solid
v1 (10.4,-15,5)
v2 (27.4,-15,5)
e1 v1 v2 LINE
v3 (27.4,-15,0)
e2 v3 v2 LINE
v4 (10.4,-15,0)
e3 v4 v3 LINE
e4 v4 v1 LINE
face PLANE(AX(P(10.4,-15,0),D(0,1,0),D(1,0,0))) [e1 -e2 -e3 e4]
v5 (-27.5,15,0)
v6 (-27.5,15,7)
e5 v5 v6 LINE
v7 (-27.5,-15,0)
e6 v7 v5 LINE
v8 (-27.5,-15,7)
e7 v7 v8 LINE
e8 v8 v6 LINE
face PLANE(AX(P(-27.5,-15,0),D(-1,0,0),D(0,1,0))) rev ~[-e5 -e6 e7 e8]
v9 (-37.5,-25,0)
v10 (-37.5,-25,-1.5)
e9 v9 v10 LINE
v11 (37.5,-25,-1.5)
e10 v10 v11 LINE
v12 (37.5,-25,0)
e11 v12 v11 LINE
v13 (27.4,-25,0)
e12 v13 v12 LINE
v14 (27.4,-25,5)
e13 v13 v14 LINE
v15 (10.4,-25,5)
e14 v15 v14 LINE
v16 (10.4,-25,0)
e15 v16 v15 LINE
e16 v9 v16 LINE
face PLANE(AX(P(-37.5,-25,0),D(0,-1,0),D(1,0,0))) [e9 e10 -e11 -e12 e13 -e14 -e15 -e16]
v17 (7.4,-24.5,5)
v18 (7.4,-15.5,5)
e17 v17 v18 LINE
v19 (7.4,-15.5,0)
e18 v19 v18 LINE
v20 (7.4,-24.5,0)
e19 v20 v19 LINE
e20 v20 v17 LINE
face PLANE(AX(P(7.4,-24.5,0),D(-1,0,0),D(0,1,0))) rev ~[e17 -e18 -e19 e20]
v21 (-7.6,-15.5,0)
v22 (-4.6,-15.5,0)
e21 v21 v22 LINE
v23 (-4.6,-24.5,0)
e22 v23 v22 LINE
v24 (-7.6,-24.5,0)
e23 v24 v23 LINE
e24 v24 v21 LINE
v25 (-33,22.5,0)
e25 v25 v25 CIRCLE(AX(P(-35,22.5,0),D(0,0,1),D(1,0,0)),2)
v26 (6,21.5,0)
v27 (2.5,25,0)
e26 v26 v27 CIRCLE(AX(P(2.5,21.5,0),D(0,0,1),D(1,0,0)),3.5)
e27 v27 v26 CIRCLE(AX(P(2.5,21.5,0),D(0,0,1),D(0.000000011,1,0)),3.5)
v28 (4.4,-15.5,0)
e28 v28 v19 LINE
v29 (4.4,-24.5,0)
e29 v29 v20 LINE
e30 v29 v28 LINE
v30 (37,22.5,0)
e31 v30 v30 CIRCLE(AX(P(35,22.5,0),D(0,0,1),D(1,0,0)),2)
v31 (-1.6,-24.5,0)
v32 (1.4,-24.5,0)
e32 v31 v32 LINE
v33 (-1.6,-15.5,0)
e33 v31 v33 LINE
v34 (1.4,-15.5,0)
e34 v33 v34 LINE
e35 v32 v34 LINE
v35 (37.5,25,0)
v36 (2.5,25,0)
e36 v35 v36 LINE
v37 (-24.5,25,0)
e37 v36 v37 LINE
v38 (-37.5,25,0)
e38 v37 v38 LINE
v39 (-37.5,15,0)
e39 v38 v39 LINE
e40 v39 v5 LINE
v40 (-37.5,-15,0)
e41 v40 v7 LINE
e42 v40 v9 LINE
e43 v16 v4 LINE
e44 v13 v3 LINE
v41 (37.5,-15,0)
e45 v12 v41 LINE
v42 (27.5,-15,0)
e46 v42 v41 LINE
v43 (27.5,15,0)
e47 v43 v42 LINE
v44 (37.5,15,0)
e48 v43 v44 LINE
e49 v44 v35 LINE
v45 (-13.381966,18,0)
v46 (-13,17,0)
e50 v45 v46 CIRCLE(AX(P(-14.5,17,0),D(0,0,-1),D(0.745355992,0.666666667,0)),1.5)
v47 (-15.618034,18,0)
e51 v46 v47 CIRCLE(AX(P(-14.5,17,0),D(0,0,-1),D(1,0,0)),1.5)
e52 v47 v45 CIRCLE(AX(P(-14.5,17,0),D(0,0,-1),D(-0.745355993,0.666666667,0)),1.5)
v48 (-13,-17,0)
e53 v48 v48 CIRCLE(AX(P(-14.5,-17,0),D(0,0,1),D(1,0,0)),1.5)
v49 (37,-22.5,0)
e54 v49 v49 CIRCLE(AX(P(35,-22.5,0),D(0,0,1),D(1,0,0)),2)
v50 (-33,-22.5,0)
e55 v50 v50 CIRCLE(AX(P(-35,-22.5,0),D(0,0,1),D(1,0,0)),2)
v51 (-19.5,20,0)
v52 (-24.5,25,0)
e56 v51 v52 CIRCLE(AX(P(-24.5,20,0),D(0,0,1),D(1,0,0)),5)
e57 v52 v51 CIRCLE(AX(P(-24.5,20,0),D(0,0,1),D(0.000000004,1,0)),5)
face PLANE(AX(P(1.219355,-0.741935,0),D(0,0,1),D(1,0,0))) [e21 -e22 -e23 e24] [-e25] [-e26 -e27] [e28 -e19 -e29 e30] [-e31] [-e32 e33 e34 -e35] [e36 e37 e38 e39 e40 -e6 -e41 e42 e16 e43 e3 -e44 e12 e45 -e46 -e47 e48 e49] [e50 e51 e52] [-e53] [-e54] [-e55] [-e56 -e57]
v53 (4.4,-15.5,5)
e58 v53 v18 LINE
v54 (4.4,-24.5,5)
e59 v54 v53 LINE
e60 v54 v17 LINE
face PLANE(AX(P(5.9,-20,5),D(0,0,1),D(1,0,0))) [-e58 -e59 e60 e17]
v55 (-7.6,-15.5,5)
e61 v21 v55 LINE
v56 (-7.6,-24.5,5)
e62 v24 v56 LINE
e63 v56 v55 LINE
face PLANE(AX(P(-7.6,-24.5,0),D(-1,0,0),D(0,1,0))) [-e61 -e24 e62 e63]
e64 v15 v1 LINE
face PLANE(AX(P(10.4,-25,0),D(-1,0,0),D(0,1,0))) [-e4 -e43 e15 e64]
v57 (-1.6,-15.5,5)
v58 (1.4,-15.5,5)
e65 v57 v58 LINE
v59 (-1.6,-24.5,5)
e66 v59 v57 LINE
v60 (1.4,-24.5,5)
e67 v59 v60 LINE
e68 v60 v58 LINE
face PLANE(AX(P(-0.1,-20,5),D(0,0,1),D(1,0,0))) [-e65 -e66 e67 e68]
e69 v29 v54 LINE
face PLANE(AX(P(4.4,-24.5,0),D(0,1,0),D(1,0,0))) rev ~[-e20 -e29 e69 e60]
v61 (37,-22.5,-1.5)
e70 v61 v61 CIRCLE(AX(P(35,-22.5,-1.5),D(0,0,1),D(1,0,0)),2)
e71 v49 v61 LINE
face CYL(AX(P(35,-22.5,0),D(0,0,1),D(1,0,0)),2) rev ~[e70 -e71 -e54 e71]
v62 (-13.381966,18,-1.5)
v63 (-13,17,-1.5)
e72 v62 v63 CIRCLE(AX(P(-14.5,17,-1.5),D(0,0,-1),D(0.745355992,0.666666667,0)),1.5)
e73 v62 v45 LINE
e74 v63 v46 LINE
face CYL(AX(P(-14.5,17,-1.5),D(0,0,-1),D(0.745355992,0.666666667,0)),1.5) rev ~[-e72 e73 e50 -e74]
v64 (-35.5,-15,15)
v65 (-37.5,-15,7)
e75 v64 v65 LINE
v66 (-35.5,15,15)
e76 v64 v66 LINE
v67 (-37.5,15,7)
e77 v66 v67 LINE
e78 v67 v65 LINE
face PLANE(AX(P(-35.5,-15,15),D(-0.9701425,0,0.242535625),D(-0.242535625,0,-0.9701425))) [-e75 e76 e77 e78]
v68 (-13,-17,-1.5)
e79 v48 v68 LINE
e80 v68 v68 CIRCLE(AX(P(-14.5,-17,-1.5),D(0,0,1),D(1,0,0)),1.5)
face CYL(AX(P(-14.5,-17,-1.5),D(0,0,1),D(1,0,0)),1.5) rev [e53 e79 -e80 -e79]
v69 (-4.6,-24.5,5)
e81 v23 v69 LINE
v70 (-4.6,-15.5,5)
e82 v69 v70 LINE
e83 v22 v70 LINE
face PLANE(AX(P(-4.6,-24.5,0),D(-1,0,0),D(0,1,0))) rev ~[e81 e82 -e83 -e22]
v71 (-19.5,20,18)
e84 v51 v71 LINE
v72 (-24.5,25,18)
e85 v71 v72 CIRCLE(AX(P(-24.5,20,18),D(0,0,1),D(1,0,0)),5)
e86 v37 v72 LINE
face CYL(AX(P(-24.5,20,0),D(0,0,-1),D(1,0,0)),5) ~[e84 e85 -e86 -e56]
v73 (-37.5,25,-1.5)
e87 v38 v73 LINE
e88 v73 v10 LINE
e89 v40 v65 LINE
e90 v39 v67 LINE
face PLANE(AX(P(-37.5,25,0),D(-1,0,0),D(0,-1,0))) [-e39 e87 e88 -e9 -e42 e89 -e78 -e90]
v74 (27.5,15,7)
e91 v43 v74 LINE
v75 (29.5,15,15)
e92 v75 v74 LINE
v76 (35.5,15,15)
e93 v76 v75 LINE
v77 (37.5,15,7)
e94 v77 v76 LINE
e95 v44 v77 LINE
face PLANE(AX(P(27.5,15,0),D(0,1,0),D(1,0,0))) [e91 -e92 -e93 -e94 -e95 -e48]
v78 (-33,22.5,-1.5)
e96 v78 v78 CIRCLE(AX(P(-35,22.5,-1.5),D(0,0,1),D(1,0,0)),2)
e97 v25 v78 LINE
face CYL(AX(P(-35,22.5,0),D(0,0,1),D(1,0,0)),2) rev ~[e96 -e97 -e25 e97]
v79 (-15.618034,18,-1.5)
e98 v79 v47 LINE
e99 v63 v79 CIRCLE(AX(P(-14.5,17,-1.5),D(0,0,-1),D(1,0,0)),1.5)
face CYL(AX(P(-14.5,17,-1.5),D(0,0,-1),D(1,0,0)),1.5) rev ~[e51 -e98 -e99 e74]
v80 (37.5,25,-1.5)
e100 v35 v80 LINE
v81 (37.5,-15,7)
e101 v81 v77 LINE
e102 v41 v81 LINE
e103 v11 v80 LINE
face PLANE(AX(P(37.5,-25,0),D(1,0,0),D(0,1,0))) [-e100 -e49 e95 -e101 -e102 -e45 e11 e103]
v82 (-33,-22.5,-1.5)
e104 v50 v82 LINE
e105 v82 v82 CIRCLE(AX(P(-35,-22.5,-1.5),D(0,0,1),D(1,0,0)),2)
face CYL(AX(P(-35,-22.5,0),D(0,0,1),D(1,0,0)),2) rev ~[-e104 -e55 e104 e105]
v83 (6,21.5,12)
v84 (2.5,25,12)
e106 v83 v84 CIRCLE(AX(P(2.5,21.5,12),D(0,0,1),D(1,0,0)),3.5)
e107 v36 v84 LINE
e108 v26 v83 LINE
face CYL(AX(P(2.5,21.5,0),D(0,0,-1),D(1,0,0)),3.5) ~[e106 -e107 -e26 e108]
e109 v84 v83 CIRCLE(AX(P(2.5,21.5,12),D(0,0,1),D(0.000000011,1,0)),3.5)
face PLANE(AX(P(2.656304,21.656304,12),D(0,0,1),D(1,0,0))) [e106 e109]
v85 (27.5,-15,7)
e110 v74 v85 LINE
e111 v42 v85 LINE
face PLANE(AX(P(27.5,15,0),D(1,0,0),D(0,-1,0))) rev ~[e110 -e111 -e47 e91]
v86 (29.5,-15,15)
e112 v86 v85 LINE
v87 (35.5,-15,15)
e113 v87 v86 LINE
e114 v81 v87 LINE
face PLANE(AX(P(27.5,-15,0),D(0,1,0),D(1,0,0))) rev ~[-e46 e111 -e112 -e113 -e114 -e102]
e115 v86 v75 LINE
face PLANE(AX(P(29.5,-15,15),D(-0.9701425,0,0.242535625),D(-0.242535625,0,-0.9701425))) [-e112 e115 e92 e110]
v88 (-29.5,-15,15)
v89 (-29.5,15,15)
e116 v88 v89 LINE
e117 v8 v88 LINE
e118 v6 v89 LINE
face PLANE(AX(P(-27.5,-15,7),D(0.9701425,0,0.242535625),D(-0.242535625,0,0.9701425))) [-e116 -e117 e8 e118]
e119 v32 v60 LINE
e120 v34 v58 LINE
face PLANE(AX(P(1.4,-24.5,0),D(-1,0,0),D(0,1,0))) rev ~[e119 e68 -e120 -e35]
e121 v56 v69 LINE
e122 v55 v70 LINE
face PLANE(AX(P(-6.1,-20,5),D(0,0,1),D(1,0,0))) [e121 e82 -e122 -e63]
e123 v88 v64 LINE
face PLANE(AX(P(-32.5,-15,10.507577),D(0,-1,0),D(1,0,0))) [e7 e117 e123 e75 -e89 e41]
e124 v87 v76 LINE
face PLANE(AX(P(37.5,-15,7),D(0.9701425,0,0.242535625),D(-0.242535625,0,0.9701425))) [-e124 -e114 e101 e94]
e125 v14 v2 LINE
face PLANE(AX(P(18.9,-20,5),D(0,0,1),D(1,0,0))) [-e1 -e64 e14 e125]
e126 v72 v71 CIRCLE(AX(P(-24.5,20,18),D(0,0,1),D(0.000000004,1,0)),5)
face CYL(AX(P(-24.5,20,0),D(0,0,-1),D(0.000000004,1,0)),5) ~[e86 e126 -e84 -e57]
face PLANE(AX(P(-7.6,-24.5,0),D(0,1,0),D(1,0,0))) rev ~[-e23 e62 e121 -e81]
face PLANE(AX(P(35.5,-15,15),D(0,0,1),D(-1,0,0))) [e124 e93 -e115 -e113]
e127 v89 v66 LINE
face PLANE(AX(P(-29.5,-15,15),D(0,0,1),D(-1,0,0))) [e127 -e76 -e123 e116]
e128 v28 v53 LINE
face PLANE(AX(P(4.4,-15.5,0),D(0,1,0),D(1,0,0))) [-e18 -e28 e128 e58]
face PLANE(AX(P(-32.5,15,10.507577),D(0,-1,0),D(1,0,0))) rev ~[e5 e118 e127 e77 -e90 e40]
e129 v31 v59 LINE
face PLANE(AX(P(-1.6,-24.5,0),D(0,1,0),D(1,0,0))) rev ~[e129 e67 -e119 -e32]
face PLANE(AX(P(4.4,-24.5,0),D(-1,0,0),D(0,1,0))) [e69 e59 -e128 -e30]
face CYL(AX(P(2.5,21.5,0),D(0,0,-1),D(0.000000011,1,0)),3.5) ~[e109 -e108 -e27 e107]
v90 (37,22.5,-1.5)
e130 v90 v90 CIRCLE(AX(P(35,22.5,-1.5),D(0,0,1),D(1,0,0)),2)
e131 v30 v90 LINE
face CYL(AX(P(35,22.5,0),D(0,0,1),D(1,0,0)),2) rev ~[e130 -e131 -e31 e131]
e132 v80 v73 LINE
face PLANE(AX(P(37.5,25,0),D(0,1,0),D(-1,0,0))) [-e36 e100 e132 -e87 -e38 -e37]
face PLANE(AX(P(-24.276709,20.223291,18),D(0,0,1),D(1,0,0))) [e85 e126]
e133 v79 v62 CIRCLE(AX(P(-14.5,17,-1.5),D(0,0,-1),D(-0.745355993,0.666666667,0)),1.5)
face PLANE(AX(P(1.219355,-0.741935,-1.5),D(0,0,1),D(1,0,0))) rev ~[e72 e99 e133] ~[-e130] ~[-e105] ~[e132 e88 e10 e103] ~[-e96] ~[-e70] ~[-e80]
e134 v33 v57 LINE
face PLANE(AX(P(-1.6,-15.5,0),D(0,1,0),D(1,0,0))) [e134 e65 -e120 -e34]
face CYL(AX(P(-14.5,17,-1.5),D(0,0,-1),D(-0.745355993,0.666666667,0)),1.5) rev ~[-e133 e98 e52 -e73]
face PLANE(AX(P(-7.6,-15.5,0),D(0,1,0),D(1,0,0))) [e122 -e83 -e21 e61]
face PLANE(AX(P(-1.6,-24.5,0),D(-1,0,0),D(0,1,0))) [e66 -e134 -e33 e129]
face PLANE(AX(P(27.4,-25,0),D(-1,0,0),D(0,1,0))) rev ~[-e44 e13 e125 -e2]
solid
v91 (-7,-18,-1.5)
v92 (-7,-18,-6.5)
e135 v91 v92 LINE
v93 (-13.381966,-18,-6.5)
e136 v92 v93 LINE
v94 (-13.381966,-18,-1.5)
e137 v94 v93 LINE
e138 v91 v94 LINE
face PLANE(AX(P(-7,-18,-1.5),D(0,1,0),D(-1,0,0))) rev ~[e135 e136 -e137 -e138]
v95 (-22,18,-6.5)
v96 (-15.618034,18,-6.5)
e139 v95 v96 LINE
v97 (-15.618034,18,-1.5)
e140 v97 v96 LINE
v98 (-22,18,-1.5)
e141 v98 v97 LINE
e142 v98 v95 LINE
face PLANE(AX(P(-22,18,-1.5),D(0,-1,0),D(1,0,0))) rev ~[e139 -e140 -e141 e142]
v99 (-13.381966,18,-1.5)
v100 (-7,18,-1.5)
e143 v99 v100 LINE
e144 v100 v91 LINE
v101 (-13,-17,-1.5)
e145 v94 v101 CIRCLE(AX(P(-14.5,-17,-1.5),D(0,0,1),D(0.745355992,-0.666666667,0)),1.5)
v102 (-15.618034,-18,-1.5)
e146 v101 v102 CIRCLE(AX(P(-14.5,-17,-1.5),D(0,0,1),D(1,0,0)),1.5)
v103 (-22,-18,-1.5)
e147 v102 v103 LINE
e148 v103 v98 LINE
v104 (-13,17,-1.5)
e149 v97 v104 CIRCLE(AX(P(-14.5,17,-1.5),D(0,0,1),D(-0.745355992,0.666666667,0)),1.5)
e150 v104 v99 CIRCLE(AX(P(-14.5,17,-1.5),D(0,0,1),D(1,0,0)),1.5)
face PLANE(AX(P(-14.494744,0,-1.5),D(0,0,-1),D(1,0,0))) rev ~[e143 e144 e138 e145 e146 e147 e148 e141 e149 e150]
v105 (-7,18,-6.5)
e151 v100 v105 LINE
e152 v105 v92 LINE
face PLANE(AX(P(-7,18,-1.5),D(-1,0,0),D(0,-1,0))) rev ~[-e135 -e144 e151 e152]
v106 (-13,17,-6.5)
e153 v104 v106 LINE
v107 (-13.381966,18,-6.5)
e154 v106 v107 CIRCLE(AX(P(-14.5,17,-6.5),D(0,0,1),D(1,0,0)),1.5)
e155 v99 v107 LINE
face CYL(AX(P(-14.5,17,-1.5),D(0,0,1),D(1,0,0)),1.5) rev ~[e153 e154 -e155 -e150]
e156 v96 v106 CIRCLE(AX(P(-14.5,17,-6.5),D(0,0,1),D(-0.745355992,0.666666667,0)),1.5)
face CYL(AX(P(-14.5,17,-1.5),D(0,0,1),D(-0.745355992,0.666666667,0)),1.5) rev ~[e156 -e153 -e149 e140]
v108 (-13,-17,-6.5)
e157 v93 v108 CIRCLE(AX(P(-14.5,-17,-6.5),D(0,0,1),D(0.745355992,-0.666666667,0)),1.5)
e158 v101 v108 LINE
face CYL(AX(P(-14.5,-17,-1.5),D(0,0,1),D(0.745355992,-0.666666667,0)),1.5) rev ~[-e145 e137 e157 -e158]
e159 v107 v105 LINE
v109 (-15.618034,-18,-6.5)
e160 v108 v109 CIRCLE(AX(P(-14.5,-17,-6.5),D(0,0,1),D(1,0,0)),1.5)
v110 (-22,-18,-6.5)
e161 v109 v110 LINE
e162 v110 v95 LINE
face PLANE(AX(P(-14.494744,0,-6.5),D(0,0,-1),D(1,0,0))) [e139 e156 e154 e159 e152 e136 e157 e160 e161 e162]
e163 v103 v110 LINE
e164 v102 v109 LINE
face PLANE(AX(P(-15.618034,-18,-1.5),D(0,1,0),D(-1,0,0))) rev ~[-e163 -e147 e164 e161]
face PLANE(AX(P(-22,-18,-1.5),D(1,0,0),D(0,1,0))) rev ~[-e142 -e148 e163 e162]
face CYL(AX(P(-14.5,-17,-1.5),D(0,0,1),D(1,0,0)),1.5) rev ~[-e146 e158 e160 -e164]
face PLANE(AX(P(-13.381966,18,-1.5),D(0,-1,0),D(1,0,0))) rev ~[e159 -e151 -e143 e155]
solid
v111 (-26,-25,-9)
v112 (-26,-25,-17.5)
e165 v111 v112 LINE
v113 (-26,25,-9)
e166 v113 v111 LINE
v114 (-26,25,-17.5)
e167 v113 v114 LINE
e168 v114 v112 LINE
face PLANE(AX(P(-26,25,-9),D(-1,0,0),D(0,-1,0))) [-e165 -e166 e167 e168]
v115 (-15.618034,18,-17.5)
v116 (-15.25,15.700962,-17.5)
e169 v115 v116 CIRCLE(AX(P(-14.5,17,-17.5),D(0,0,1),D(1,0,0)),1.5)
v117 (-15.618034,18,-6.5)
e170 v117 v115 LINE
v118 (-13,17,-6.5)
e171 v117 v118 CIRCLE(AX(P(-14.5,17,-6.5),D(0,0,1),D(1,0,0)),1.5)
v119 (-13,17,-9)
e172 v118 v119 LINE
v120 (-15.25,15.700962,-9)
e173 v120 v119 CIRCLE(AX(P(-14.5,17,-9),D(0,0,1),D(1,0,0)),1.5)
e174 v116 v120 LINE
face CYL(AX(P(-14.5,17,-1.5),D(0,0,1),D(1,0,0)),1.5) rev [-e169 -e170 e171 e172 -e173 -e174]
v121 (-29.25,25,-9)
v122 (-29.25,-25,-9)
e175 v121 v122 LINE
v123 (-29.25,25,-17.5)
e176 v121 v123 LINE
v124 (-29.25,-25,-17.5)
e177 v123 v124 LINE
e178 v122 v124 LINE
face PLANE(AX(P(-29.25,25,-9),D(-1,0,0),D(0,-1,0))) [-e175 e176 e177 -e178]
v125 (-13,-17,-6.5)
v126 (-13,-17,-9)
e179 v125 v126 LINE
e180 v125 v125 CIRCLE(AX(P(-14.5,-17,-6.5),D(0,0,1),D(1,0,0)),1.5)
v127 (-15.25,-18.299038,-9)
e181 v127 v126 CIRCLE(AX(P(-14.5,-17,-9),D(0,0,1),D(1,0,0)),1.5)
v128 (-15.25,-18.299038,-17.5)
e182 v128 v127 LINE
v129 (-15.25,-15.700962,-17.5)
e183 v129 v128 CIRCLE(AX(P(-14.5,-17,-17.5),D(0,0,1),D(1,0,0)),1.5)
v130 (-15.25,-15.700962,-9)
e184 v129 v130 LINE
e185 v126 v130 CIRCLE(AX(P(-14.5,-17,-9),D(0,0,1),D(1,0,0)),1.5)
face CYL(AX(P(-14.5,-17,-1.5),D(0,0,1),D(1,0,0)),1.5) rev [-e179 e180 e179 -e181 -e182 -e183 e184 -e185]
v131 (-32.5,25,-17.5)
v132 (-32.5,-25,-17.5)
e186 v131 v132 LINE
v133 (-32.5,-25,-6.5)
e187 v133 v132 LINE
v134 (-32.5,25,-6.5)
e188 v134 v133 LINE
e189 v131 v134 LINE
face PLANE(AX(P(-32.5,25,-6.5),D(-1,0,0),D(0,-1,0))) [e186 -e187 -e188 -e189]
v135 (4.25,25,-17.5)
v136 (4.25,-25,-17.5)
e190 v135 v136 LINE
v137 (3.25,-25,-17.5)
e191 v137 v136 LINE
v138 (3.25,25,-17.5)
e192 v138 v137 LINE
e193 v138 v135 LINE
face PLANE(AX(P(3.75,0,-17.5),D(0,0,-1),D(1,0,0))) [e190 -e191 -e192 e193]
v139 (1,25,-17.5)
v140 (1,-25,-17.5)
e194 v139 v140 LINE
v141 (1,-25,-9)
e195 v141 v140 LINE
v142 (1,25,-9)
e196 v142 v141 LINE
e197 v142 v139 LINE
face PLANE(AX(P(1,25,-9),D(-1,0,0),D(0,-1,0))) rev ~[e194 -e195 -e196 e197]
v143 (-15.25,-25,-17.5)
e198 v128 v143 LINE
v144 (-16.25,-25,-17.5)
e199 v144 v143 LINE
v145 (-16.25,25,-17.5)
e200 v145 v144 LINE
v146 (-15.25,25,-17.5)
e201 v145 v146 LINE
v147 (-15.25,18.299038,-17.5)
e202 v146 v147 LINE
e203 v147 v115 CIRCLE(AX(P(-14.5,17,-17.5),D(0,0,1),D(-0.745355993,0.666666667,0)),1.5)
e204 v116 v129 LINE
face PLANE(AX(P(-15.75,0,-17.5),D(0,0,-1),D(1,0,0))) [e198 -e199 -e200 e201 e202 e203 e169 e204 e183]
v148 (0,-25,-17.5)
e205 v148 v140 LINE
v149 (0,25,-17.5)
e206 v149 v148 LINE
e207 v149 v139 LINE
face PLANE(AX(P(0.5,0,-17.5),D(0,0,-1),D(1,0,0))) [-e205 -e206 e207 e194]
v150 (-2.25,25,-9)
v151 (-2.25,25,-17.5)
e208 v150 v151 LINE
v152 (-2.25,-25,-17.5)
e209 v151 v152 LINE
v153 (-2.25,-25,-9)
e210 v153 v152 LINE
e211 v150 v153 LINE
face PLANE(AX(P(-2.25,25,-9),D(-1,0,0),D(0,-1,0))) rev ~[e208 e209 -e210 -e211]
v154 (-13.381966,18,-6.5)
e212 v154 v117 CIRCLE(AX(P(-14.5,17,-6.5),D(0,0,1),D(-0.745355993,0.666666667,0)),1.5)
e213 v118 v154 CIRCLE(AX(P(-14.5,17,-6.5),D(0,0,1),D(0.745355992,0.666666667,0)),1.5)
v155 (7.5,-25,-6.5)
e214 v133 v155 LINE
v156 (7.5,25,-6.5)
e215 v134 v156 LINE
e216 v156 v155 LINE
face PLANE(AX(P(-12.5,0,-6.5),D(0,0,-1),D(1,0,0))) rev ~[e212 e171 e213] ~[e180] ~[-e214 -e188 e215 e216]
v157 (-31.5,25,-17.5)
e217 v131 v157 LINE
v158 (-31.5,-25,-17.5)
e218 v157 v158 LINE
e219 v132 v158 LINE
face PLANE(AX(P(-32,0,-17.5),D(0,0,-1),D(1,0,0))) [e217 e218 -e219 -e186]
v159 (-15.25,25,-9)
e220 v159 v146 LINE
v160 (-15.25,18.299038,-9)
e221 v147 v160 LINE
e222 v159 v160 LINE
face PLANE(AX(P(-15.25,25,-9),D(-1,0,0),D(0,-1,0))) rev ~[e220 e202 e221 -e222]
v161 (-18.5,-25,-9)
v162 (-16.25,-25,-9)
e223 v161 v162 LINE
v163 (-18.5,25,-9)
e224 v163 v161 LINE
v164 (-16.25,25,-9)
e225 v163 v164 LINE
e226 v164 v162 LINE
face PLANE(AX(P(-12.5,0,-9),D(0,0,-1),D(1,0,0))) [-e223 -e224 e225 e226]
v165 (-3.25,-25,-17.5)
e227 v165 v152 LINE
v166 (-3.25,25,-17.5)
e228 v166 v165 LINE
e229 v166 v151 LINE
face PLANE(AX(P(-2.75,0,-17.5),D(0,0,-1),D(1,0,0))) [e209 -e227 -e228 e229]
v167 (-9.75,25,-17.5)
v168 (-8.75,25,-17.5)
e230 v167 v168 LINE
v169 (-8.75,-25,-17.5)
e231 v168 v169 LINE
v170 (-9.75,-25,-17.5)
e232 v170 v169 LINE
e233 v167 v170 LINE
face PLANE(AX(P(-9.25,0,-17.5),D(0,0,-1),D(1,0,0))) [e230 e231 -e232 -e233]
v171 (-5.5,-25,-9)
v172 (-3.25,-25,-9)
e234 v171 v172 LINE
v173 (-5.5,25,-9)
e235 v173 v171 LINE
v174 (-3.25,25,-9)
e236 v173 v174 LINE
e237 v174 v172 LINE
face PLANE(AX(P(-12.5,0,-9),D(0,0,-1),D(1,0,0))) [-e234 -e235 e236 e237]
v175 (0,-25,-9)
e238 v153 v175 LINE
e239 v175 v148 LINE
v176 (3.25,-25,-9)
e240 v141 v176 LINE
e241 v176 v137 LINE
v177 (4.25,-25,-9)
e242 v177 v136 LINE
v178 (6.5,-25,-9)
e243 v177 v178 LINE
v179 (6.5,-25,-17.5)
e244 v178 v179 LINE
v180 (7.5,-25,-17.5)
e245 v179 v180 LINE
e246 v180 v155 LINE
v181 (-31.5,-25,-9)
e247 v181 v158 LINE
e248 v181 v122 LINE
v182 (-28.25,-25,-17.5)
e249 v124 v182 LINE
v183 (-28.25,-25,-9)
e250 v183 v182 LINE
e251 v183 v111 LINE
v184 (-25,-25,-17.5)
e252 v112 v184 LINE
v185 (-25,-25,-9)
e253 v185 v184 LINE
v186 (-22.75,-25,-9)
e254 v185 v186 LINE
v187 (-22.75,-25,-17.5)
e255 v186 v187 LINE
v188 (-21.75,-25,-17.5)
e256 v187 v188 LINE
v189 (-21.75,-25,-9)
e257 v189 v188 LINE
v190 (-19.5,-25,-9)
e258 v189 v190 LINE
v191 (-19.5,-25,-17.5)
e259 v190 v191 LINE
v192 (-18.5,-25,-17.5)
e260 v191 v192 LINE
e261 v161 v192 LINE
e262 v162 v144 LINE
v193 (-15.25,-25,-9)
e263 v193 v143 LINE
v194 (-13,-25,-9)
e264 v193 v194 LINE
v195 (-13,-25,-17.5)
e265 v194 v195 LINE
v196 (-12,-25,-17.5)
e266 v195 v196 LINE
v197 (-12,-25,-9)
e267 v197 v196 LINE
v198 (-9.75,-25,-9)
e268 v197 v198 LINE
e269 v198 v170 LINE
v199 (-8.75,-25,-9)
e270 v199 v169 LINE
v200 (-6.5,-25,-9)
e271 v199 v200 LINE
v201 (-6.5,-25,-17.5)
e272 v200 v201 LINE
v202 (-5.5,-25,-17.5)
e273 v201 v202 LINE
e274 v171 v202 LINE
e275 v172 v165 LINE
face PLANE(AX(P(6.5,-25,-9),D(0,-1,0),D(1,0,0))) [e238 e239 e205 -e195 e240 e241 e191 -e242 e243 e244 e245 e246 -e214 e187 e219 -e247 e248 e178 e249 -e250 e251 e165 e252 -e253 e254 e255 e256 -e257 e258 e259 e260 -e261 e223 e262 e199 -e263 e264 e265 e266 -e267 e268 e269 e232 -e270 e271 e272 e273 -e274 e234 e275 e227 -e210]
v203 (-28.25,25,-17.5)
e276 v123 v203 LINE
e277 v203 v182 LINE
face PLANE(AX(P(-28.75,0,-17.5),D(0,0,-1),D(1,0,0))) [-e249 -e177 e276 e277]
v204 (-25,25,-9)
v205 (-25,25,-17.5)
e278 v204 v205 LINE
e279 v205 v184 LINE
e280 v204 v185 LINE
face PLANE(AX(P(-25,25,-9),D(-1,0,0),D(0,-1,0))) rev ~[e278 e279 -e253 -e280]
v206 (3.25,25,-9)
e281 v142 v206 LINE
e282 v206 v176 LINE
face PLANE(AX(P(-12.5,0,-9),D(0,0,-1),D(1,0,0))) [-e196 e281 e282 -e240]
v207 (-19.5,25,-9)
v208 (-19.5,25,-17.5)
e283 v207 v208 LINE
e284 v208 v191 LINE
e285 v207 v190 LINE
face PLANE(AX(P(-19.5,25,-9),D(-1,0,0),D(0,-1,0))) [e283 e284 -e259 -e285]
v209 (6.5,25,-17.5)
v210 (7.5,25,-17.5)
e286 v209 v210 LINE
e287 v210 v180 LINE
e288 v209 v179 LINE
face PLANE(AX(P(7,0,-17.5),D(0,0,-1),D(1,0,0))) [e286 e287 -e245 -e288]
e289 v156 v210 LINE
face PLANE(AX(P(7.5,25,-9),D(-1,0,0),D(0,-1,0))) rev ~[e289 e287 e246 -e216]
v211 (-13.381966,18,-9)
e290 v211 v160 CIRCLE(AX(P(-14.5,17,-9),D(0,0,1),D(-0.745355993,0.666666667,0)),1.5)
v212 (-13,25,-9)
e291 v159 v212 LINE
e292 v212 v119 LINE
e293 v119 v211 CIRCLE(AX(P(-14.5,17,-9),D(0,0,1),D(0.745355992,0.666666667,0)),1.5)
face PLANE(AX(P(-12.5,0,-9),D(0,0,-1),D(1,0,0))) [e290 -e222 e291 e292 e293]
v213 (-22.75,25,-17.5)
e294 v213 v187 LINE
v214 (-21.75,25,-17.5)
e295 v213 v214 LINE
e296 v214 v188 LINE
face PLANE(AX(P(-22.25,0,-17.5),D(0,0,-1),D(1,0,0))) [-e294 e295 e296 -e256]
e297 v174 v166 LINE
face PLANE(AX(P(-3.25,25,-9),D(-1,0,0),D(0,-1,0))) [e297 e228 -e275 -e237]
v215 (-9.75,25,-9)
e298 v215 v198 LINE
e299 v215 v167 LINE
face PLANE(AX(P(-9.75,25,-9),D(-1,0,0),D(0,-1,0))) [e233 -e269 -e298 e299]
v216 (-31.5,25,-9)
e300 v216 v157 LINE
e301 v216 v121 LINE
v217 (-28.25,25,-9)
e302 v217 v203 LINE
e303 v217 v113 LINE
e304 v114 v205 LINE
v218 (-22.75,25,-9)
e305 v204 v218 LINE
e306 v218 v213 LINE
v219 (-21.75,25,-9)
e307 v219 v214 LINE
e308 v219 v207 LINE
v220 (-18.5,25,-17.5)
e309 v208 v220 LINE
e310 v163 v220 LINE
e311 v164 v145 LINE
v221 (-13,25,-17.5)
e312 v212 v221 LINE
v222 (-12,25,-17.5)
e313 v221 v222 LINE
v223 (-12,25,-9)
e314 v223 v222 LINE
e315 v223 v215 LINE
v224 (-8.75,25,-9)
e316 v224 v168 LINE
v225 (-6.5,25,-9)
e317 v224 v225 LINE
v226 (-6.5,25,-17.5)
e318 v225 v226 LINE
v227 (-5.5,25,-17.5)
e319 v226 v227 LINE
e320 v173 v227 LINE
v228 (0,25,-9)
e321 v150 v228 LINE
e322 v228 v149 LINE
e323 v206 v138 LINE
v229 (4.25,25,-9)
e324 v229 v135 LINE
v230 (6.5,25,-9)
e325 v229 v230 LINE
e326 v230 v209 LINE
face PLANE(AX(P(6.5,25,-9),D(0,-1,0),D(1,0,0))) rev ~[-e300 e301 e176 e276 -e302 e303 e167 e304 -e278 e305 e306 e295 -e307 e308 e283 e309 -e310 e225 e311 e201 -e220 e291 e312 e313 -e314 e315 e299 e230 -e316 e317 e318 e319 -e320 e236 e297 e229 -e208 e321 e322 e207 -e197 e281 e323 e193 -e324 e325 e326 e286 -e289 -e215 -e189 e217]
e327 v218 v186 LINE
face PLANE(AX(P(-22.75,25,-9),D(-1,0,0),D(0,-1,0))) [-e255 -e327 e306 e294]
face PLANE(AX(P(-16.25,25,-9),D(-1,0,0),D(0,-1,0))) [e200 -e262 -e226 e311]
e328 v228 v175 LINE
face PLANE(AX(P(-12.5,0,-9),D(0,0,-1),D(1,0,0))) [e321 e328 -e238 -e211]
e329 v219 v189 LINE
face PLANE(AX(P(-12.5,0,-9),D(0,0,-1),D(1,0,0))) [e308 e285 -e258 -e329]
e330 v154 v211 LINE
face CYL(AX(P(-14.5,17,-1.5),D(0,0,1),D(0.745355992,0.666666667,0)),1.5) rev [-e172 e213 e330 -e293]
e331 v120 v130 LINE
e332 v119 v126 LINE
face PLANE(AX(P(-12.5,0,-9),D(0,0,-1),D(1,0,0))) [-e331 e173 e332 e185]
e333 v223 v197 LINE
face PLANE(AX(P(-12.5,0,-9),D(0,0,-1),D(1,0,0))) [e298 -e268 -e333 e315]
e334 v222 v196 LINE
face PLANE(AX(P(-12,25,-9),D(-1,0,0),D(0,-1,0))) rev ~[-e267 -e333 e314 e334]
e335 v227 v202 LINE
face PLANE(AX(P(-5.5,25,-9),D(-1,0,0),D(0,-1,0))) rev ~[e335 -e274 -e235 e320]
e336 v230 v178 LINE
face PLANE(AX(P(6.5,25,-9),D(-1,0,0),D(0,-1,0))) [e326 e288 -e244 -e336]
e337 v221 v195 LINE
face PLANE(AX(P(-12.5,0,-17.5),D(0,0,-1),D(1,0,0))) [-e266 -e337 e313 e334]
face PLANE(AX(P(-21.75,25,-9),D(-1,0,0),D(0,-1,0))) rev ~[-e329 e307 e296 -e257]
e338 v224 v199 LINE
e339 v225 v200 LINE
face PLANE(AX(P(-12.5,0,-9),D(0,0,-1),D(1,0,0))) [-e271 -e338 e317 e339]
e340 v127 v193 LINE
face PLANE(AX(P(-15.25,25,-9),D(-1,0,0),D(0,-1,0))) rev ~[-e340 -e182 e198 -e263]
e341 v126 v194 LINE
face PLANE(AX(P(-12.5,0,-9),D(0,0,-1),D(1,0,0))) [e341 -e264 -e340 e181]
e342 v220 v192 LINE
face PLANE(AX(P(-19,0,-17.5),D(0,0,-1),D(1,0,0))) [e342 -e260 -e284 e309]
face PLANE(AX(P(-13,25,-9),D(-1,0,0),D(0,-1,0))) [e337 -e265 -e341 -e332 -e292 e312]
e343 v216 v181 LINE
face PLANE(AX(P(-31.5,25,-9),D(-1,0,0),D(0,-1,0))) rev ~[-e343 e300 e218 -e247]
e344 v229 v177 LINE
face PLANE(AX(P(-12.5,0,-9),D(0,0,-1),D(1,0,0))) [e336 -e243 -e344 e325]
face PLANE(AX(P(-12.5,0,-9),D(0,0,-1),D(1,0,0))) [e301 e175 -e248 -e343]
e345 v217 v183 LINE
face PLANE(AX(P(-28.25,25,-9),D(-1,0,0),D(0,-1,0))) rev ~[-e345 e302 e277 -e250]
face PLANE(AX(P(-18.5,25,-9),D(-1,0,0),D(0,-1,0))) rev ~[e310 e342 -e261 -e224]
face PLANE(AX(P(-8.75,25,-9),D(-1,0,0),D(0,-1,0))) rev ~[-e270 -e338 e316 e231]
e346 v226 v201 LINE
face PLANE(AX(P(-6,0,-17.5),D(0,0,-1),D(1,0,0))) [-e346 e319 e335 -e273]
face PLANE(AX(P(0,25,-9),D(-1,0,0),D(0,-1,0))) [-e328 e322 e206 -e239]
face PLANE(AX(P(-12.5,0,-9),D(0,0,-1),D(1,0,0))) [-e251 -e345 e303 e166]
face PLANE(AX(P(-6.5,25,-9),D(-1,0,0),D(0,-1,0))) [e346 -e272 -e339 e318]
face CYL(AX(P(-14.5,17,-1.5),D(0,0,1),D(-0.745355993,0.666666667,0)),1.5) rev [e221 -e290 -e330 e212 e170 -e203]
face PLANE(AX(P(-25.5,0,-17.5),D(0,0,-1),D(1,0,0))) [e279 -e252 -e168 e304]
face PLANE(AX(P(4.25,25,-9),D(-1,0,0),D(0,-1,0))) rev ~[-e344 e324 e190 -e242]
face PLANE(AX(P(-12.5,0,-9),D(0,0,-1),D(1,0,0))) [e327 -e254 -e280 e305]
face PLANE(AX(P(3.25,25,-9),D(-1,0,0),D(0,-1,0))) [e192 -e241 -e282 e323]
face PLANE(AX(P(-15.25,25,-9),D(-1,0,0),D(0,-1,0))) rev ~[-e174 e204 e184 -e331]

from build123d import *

# Parameters (mm, degrees)
F0_R      = 2
F0_W      = 3
F0_H      = 9
F0_W_2    = 10
F0_H_2    = 15
F0_W_3    = 17
F0_H_3    = 10
F1_DEPTH  = 1.5
F2_DEPTH  = 7
F3_DEPTH  = 5
F5_DEPTH  = 30
F6_DEPTH  = 18
F7_DEPTH  = 12
F9_DEPTH  = 5
F10_W     = 40
F10_H     = 50
F11_DEPTH = 2.5
F12_W     = 1
F12_H     = 50
F13_DEPTH = 8.5
F14_DEPTH = 50


with BuildPart() as f1:
    # F0 (on Top) → F1 (new body)
    with BuildSketch(Plane.XY):
        Polygon((27.4, -25), (37.5, -25), (37.5, -15), (27.5, -15), (27.5, 0), (27.5, 15), (37.5, 15), (37.5, 25), (2.500000039, 25), (-24.4999999811, 25), (-37.5, 25), (-37.5, 15), (-27.5, 15), (-27.5, 0), (-27.5, -15), (-37.5, -15), (-37.5, -25), (10.4, -25), (10.4, -15), (27.4, -15), align=None)
        with Locations((-35, -22.5)):
            Circle(F0_R, mode=Mode.SUBTRACT)
        with Locations((-6.1, -20)):
            Rectangle(F0_W, F0_H, mode=Mode.SUBTRACT)
        with Locations((-0.1, -20)):
            Rectangle(F0_W, F0_H, mode=Mode.SUBTRACT)
        with Locations((5.9, -20)):
            Rectangle(F0_W, F0_H, mode=Mode.SUBTRACT)
        with Locations((35, -22.5)):
            Circle(F0_R, mode=Mode.SUBTRACT)
        with Locations((-35, 22.5)):
            Circle(F0_R, mode=Mode.SUBTRACT)
        with BuildLine():
            ThreePointArc((-19.5, 20), (-28.0355339126, 16.4644661007), (-24.4999999811, 25))
            ThreePointArc((-24.4999999811, 25), (-20.9644660874, 23.5355338993), (-19.5, 20))
        make_face(mode=Mode.SUBTRACT)
        with BuildLine():
            ThreePointArc((6, 21.5), (0.025126252, 19.0251262796), (2.500000039, 25))
            ThreePointArc((2.500000039, 25), (4.974873748, 23.9748737204), (6, 21.5))
        make_face(mode=Mode.SUBTRACT)
        with Locations((35, 22.5)):
            Circle(F0_R, mode=Mode.SUBTRACT)
        with Locations((32.5, -7.5)):
            Rectangle(F0_W_2, F0_H_2)
        with Locations((32.5, 7.5)):
            Rectangle(F0_W_2, F0_H_2)
        with Locations((-32.5, -7.5)):
            Rectangle(F0_W_2, F0_H_2)
        with Locations((-32.5, 7.5)):
            Rectangle(F0_W_2, F0_H_2)
        with BuildLine():
            ThreePointArc((-19.5, 20), (-20.9644660874, 23.5355338993), (-24.4999999811, 25))
            ThreePointArc((-24.4999999811, 25), (-28.0355339126, 16.4644661007), (-19.5, 20))
        make_face()
        with BuildLine():
            ThreePointArc((6, 21.5), (4.974873748, 23.9748737204), (2.500000039, 25))
            ThreePointArc((2.500000039, 25), (0.025126252, 19.0251262796), (6, 21.5))
        make_face()
        with Locations((5.9, -20)):
            Rectangle(F0_W, F0_H)
        with Locations((-0.1, -20)):
            Rectangle(F0_W, F0_H)
        with Locations((-6.1, -20)):
            Rectangle(F0_W, F0_H)
        with Locations((18.9, -20)):
            Rectangle(F0_W_3, F0_H_3)
    extrude(amount=-F1_DEPTH)

    # F0 (on Top) → F2 (join)
    with BuildSketch(Plane.XY):
        with Locations((-32.5, 7.5)):
            Rectangle(F0_W_2, F0_H_2)
        with Locations((-32.5, -7.5)):
            Rectangle(F0_W_2, F0_H_2)
        with Locations((32.5, -7.5)):
            Rectangle(F0_W_2, F0_H_2)
        with Locations((32.5, 7.5)):
            Rectangle(F0_W_2, F0_H_2)
    extrude(amount=F2_DEPTH)

    # F0 (on Top) → F3 (join)
    with BuildSketch(Plane.XY):
        with Locations((-6.1, -20)):
            Rectangle(F0_W, F0_H)
        with Locations((-0.1, -20)):
            Rectangle(F0_W, F0_H)
        with Locations((5.9, -20)):
            Rectangle(F0_W, F0_H)
        with Locations((18.9, -20)):
            Rectangle(F0_W_3, F0_H_3)
    extrude(amount=F3_DEPTH)

    # F4 (on face) → F5 (join, through all)
    with BuildSketch(Plane.XZ.offset(15)):
        Polygon((-29.5, 15), (-35.5, 15), (-37.5, 7), (-27.5, 7), align=None)
        Polygon((37.5, 7), (35.5, 15), (29.5, 15), (27.5, 7), align=None)
    extrude(amount=-F5_DEPTH)

    # F0 (on Top) → F6 (join)
    with BuildSketch(Plane.XY):
        with BuildLine():
            ThreePointArc((-19.5, 20), (-20.9644660874, 23.5355338993), (-24.4999999811, 25))
            ThreePointArc((-24.4999999811, 25), (-28.0355339126, 16.4644661007), (-19.5, 20))
        make_face()
    extrude(amount=F6_DEPTH)

    # F0 (on Top) → F7 (join)
    with BuildSketch(Plane.XY):
        with BuildLine():
            ThreePointArc((6, 21.5), (4.974873748, 23.9748737204), (2.500000039, 25))
            ThreePointArc((2.500000039, 25), (0.025126252, 19.0251262796), (6, 21.5))
        make_face()
    extrude(amount=F7_DEPTH)


with BuildPart() as f9:
    # F8 (on face) → F9 (new body)
    with BuildSketch(Plane(origin=(0, 0, -1.5), x_dir=(1, 0, 0), z_dir=(0, 0, -1))):
        with BuildLine():
            Line((-7, -18), (-7, 18))
            Line((-7, 18), (-13.3819660113, 18))
            ThreePointArc((-13.3819660113, 18), (-13.0987414616, 17.5352331347), (-13, 17))
            ThreePointArc((-13, 17), (-15.0352331347, 15.5987414616), (-15.6180339887, 18))
            Line((-15.6180339887, 18), (-22, 18))
            Line((-22, 18), (-22, -18))
            Line((-22, -18), (-15.6180339887, -18))
            ThreePointArc((-15.6180339887, -18), (-15.0352331347, -15.5987414616), (-13, -17))
            ThreePointArc((-13, -17), (-13.0987414616, -17.5352331347), (-13.3819660113, -18))
            Line((-13.3819660113, -18), (-7, -18))
        make_face()
    extrude(amount=F9_DEPTH)


with BuildPart() as f11:
    # F10 (on face) → F11 (new body)
    with BuildSketch(Plane(origin=(0, 0, -6.5), x_dir=(1, 0, 0), z_dir=(0, 0, -1))):
        with Locations((-12.5, 0)):
            Rectangle(F10_W, F10_H)
        with BuildLine():
            Line((-7, -18), (-13.3819660113, -18))
            ThreePointArc((-13.3819660113, -18), (-13.0987414616, -17.5352331347), (-13, -17))
            ThreePointArc((-13, -17), (-15.0352331347, -15.5987414616), (-15.6180339887, -18))
            Line((-15.6180339887, -18), (-22, -18))
            Line((-22, -18), (-22, 18))
            Line((-22, 18), (-15.6180339887, 18))
            ThreePointArc((-15.6180339887, 18), (-14.5, 15.5), (-13.3819660113, 18))
            Line((-13.3819660113, 18), (-7, 18))
            Line((-7, 18), (-7, -18))
        make_face(mode=Mode.SUBTRACT)
        with BuildLine():
            ThreePointArc((-13, -17), (-13.0987414616, -17.5352331347), (-13.3819660113, -18))
            Line((-13.3819660113, -18), (-7, -18))
            Line((-7, -18), (-7, 18))
            Line((-7, 18), (-13.3819660113, 18))
            ThreePointArc((-13.3819660113, 18), (-14.5, 15.5), (-15.6180339887, 18))
            Line((-15.6180339887, 18), (-22, 18))
            Line((-22, 18), (-22, -18))
            Line((-22, -18), (-15.6180339887, -18))
            ThreePointArc((-15.6180339887, -18), (-15.0352331347, -15.5987414616), (-13, -17))
        make_face()
    extrude(amount=F11_DEPTH)

    # F12 (on face) → F13 (join)
    with BuildSketch(Plane(origin=(0, 0, -9), x_dir=(1, 0, 0), z_dir=(0, 0, -1))):
        with Locations((7, 0)):
            Rectangle(F12_W, F12_H)
        with Locations((3.75, 0)):
            Rectangle(F12_W, F12_H)
        with Locations((0.5, 0)):
            Rectangle(F12_W, F12_H)
        with Locations((-2.75, 0)):
            Rectangle(F12_W, F12_H)
        with Locations((-6, 0)):
            Rectangle(F12_W, F12_H)
        with Locations((-9.25, 0)):
            Rectangle(F12_W, F12_H)
        with Locations((-12.5, 0)):
            Rectangle(F12_W, F12_H)
        with Locations((-15.75, 0)):
            Rectangle(F12_W, F12_H)
        with Locations((-19, 0)):
            Rectangle(F12_W, F12_H)
        with Locations((-22.25, 0)):
            Rectangle(F12_W, F12_H)
        with Locations((-25.5, 0)):
            Rectangle(F12_W, F12_H)
        with Locations((-28.75, 0)):
            Rectangle(F12_W, F12_H)
        with Locations((-32, 0)):
            Rectangle(F12_W, F12_H)
    extrude(amount=F13_DEPTH)


with BuildPart() as f14_tool:
    # F8 (on face) → F14 (new body, symmetric)
    with BuildSketch(Plane(origin=(0, 0, -1.5), x_dir=(1, 0, 0), z_dir=(0, 0, -1))):
        with BuildLine():
            ThreePointArc((-13, 17), (-13.0987414616, 17.5352331347), (-13.3819660113, 18))
            Line((-13.3819660113, 18), (-15.6180339887, 18))
            ThreePointArc((-15.6180339887, 18), (-15.0352331347, 15.5987414616), (-13, 17))
        make_face()
        with BuildLine():
            Line((-15.6180339887, 18), (-13.3819660113, 18))
            ThreePointArc((-13.3819660113, 18), (-14.5, 18.5), (-15.6180339887, 18))
        make_face()
        with BuildLine():
            Line((-15.6180339887, -18), (-13.3819660113, -18))
            ThreePointArc((-13.3819660113, -18), (-13.0987414616, -17.5352331347), (-13, -17))
            ThreePointArc((-13, -17), (-15.0352331347, -15.5987414616), (-15.6180339887, -18))
        make_face()
        with BuildLine():
            ThreePointArc((-15.6180339887, -18), (-14.5, -18.5), (-13.3819660113, -18))
            Line((-13.3819660113, -18), (-15.6180339887, -18))
        make_face()
    extrude(amount=F14_DEPTH, both=True)


with BuildPart() as f1_1:
    add(f1.part)

    # F14: cut by f14_tool
    add(f14_tool.part, mode=Mode.SUBTRACT)


with BuildPart() as f11_1:
    add(f11.part)

    # F14: cut by f14_tool
    add(f14_tool.part, mode=Mode.SUBTRACT)


solid = Compound([f9.part, f1_1.part, f11_1.part])
